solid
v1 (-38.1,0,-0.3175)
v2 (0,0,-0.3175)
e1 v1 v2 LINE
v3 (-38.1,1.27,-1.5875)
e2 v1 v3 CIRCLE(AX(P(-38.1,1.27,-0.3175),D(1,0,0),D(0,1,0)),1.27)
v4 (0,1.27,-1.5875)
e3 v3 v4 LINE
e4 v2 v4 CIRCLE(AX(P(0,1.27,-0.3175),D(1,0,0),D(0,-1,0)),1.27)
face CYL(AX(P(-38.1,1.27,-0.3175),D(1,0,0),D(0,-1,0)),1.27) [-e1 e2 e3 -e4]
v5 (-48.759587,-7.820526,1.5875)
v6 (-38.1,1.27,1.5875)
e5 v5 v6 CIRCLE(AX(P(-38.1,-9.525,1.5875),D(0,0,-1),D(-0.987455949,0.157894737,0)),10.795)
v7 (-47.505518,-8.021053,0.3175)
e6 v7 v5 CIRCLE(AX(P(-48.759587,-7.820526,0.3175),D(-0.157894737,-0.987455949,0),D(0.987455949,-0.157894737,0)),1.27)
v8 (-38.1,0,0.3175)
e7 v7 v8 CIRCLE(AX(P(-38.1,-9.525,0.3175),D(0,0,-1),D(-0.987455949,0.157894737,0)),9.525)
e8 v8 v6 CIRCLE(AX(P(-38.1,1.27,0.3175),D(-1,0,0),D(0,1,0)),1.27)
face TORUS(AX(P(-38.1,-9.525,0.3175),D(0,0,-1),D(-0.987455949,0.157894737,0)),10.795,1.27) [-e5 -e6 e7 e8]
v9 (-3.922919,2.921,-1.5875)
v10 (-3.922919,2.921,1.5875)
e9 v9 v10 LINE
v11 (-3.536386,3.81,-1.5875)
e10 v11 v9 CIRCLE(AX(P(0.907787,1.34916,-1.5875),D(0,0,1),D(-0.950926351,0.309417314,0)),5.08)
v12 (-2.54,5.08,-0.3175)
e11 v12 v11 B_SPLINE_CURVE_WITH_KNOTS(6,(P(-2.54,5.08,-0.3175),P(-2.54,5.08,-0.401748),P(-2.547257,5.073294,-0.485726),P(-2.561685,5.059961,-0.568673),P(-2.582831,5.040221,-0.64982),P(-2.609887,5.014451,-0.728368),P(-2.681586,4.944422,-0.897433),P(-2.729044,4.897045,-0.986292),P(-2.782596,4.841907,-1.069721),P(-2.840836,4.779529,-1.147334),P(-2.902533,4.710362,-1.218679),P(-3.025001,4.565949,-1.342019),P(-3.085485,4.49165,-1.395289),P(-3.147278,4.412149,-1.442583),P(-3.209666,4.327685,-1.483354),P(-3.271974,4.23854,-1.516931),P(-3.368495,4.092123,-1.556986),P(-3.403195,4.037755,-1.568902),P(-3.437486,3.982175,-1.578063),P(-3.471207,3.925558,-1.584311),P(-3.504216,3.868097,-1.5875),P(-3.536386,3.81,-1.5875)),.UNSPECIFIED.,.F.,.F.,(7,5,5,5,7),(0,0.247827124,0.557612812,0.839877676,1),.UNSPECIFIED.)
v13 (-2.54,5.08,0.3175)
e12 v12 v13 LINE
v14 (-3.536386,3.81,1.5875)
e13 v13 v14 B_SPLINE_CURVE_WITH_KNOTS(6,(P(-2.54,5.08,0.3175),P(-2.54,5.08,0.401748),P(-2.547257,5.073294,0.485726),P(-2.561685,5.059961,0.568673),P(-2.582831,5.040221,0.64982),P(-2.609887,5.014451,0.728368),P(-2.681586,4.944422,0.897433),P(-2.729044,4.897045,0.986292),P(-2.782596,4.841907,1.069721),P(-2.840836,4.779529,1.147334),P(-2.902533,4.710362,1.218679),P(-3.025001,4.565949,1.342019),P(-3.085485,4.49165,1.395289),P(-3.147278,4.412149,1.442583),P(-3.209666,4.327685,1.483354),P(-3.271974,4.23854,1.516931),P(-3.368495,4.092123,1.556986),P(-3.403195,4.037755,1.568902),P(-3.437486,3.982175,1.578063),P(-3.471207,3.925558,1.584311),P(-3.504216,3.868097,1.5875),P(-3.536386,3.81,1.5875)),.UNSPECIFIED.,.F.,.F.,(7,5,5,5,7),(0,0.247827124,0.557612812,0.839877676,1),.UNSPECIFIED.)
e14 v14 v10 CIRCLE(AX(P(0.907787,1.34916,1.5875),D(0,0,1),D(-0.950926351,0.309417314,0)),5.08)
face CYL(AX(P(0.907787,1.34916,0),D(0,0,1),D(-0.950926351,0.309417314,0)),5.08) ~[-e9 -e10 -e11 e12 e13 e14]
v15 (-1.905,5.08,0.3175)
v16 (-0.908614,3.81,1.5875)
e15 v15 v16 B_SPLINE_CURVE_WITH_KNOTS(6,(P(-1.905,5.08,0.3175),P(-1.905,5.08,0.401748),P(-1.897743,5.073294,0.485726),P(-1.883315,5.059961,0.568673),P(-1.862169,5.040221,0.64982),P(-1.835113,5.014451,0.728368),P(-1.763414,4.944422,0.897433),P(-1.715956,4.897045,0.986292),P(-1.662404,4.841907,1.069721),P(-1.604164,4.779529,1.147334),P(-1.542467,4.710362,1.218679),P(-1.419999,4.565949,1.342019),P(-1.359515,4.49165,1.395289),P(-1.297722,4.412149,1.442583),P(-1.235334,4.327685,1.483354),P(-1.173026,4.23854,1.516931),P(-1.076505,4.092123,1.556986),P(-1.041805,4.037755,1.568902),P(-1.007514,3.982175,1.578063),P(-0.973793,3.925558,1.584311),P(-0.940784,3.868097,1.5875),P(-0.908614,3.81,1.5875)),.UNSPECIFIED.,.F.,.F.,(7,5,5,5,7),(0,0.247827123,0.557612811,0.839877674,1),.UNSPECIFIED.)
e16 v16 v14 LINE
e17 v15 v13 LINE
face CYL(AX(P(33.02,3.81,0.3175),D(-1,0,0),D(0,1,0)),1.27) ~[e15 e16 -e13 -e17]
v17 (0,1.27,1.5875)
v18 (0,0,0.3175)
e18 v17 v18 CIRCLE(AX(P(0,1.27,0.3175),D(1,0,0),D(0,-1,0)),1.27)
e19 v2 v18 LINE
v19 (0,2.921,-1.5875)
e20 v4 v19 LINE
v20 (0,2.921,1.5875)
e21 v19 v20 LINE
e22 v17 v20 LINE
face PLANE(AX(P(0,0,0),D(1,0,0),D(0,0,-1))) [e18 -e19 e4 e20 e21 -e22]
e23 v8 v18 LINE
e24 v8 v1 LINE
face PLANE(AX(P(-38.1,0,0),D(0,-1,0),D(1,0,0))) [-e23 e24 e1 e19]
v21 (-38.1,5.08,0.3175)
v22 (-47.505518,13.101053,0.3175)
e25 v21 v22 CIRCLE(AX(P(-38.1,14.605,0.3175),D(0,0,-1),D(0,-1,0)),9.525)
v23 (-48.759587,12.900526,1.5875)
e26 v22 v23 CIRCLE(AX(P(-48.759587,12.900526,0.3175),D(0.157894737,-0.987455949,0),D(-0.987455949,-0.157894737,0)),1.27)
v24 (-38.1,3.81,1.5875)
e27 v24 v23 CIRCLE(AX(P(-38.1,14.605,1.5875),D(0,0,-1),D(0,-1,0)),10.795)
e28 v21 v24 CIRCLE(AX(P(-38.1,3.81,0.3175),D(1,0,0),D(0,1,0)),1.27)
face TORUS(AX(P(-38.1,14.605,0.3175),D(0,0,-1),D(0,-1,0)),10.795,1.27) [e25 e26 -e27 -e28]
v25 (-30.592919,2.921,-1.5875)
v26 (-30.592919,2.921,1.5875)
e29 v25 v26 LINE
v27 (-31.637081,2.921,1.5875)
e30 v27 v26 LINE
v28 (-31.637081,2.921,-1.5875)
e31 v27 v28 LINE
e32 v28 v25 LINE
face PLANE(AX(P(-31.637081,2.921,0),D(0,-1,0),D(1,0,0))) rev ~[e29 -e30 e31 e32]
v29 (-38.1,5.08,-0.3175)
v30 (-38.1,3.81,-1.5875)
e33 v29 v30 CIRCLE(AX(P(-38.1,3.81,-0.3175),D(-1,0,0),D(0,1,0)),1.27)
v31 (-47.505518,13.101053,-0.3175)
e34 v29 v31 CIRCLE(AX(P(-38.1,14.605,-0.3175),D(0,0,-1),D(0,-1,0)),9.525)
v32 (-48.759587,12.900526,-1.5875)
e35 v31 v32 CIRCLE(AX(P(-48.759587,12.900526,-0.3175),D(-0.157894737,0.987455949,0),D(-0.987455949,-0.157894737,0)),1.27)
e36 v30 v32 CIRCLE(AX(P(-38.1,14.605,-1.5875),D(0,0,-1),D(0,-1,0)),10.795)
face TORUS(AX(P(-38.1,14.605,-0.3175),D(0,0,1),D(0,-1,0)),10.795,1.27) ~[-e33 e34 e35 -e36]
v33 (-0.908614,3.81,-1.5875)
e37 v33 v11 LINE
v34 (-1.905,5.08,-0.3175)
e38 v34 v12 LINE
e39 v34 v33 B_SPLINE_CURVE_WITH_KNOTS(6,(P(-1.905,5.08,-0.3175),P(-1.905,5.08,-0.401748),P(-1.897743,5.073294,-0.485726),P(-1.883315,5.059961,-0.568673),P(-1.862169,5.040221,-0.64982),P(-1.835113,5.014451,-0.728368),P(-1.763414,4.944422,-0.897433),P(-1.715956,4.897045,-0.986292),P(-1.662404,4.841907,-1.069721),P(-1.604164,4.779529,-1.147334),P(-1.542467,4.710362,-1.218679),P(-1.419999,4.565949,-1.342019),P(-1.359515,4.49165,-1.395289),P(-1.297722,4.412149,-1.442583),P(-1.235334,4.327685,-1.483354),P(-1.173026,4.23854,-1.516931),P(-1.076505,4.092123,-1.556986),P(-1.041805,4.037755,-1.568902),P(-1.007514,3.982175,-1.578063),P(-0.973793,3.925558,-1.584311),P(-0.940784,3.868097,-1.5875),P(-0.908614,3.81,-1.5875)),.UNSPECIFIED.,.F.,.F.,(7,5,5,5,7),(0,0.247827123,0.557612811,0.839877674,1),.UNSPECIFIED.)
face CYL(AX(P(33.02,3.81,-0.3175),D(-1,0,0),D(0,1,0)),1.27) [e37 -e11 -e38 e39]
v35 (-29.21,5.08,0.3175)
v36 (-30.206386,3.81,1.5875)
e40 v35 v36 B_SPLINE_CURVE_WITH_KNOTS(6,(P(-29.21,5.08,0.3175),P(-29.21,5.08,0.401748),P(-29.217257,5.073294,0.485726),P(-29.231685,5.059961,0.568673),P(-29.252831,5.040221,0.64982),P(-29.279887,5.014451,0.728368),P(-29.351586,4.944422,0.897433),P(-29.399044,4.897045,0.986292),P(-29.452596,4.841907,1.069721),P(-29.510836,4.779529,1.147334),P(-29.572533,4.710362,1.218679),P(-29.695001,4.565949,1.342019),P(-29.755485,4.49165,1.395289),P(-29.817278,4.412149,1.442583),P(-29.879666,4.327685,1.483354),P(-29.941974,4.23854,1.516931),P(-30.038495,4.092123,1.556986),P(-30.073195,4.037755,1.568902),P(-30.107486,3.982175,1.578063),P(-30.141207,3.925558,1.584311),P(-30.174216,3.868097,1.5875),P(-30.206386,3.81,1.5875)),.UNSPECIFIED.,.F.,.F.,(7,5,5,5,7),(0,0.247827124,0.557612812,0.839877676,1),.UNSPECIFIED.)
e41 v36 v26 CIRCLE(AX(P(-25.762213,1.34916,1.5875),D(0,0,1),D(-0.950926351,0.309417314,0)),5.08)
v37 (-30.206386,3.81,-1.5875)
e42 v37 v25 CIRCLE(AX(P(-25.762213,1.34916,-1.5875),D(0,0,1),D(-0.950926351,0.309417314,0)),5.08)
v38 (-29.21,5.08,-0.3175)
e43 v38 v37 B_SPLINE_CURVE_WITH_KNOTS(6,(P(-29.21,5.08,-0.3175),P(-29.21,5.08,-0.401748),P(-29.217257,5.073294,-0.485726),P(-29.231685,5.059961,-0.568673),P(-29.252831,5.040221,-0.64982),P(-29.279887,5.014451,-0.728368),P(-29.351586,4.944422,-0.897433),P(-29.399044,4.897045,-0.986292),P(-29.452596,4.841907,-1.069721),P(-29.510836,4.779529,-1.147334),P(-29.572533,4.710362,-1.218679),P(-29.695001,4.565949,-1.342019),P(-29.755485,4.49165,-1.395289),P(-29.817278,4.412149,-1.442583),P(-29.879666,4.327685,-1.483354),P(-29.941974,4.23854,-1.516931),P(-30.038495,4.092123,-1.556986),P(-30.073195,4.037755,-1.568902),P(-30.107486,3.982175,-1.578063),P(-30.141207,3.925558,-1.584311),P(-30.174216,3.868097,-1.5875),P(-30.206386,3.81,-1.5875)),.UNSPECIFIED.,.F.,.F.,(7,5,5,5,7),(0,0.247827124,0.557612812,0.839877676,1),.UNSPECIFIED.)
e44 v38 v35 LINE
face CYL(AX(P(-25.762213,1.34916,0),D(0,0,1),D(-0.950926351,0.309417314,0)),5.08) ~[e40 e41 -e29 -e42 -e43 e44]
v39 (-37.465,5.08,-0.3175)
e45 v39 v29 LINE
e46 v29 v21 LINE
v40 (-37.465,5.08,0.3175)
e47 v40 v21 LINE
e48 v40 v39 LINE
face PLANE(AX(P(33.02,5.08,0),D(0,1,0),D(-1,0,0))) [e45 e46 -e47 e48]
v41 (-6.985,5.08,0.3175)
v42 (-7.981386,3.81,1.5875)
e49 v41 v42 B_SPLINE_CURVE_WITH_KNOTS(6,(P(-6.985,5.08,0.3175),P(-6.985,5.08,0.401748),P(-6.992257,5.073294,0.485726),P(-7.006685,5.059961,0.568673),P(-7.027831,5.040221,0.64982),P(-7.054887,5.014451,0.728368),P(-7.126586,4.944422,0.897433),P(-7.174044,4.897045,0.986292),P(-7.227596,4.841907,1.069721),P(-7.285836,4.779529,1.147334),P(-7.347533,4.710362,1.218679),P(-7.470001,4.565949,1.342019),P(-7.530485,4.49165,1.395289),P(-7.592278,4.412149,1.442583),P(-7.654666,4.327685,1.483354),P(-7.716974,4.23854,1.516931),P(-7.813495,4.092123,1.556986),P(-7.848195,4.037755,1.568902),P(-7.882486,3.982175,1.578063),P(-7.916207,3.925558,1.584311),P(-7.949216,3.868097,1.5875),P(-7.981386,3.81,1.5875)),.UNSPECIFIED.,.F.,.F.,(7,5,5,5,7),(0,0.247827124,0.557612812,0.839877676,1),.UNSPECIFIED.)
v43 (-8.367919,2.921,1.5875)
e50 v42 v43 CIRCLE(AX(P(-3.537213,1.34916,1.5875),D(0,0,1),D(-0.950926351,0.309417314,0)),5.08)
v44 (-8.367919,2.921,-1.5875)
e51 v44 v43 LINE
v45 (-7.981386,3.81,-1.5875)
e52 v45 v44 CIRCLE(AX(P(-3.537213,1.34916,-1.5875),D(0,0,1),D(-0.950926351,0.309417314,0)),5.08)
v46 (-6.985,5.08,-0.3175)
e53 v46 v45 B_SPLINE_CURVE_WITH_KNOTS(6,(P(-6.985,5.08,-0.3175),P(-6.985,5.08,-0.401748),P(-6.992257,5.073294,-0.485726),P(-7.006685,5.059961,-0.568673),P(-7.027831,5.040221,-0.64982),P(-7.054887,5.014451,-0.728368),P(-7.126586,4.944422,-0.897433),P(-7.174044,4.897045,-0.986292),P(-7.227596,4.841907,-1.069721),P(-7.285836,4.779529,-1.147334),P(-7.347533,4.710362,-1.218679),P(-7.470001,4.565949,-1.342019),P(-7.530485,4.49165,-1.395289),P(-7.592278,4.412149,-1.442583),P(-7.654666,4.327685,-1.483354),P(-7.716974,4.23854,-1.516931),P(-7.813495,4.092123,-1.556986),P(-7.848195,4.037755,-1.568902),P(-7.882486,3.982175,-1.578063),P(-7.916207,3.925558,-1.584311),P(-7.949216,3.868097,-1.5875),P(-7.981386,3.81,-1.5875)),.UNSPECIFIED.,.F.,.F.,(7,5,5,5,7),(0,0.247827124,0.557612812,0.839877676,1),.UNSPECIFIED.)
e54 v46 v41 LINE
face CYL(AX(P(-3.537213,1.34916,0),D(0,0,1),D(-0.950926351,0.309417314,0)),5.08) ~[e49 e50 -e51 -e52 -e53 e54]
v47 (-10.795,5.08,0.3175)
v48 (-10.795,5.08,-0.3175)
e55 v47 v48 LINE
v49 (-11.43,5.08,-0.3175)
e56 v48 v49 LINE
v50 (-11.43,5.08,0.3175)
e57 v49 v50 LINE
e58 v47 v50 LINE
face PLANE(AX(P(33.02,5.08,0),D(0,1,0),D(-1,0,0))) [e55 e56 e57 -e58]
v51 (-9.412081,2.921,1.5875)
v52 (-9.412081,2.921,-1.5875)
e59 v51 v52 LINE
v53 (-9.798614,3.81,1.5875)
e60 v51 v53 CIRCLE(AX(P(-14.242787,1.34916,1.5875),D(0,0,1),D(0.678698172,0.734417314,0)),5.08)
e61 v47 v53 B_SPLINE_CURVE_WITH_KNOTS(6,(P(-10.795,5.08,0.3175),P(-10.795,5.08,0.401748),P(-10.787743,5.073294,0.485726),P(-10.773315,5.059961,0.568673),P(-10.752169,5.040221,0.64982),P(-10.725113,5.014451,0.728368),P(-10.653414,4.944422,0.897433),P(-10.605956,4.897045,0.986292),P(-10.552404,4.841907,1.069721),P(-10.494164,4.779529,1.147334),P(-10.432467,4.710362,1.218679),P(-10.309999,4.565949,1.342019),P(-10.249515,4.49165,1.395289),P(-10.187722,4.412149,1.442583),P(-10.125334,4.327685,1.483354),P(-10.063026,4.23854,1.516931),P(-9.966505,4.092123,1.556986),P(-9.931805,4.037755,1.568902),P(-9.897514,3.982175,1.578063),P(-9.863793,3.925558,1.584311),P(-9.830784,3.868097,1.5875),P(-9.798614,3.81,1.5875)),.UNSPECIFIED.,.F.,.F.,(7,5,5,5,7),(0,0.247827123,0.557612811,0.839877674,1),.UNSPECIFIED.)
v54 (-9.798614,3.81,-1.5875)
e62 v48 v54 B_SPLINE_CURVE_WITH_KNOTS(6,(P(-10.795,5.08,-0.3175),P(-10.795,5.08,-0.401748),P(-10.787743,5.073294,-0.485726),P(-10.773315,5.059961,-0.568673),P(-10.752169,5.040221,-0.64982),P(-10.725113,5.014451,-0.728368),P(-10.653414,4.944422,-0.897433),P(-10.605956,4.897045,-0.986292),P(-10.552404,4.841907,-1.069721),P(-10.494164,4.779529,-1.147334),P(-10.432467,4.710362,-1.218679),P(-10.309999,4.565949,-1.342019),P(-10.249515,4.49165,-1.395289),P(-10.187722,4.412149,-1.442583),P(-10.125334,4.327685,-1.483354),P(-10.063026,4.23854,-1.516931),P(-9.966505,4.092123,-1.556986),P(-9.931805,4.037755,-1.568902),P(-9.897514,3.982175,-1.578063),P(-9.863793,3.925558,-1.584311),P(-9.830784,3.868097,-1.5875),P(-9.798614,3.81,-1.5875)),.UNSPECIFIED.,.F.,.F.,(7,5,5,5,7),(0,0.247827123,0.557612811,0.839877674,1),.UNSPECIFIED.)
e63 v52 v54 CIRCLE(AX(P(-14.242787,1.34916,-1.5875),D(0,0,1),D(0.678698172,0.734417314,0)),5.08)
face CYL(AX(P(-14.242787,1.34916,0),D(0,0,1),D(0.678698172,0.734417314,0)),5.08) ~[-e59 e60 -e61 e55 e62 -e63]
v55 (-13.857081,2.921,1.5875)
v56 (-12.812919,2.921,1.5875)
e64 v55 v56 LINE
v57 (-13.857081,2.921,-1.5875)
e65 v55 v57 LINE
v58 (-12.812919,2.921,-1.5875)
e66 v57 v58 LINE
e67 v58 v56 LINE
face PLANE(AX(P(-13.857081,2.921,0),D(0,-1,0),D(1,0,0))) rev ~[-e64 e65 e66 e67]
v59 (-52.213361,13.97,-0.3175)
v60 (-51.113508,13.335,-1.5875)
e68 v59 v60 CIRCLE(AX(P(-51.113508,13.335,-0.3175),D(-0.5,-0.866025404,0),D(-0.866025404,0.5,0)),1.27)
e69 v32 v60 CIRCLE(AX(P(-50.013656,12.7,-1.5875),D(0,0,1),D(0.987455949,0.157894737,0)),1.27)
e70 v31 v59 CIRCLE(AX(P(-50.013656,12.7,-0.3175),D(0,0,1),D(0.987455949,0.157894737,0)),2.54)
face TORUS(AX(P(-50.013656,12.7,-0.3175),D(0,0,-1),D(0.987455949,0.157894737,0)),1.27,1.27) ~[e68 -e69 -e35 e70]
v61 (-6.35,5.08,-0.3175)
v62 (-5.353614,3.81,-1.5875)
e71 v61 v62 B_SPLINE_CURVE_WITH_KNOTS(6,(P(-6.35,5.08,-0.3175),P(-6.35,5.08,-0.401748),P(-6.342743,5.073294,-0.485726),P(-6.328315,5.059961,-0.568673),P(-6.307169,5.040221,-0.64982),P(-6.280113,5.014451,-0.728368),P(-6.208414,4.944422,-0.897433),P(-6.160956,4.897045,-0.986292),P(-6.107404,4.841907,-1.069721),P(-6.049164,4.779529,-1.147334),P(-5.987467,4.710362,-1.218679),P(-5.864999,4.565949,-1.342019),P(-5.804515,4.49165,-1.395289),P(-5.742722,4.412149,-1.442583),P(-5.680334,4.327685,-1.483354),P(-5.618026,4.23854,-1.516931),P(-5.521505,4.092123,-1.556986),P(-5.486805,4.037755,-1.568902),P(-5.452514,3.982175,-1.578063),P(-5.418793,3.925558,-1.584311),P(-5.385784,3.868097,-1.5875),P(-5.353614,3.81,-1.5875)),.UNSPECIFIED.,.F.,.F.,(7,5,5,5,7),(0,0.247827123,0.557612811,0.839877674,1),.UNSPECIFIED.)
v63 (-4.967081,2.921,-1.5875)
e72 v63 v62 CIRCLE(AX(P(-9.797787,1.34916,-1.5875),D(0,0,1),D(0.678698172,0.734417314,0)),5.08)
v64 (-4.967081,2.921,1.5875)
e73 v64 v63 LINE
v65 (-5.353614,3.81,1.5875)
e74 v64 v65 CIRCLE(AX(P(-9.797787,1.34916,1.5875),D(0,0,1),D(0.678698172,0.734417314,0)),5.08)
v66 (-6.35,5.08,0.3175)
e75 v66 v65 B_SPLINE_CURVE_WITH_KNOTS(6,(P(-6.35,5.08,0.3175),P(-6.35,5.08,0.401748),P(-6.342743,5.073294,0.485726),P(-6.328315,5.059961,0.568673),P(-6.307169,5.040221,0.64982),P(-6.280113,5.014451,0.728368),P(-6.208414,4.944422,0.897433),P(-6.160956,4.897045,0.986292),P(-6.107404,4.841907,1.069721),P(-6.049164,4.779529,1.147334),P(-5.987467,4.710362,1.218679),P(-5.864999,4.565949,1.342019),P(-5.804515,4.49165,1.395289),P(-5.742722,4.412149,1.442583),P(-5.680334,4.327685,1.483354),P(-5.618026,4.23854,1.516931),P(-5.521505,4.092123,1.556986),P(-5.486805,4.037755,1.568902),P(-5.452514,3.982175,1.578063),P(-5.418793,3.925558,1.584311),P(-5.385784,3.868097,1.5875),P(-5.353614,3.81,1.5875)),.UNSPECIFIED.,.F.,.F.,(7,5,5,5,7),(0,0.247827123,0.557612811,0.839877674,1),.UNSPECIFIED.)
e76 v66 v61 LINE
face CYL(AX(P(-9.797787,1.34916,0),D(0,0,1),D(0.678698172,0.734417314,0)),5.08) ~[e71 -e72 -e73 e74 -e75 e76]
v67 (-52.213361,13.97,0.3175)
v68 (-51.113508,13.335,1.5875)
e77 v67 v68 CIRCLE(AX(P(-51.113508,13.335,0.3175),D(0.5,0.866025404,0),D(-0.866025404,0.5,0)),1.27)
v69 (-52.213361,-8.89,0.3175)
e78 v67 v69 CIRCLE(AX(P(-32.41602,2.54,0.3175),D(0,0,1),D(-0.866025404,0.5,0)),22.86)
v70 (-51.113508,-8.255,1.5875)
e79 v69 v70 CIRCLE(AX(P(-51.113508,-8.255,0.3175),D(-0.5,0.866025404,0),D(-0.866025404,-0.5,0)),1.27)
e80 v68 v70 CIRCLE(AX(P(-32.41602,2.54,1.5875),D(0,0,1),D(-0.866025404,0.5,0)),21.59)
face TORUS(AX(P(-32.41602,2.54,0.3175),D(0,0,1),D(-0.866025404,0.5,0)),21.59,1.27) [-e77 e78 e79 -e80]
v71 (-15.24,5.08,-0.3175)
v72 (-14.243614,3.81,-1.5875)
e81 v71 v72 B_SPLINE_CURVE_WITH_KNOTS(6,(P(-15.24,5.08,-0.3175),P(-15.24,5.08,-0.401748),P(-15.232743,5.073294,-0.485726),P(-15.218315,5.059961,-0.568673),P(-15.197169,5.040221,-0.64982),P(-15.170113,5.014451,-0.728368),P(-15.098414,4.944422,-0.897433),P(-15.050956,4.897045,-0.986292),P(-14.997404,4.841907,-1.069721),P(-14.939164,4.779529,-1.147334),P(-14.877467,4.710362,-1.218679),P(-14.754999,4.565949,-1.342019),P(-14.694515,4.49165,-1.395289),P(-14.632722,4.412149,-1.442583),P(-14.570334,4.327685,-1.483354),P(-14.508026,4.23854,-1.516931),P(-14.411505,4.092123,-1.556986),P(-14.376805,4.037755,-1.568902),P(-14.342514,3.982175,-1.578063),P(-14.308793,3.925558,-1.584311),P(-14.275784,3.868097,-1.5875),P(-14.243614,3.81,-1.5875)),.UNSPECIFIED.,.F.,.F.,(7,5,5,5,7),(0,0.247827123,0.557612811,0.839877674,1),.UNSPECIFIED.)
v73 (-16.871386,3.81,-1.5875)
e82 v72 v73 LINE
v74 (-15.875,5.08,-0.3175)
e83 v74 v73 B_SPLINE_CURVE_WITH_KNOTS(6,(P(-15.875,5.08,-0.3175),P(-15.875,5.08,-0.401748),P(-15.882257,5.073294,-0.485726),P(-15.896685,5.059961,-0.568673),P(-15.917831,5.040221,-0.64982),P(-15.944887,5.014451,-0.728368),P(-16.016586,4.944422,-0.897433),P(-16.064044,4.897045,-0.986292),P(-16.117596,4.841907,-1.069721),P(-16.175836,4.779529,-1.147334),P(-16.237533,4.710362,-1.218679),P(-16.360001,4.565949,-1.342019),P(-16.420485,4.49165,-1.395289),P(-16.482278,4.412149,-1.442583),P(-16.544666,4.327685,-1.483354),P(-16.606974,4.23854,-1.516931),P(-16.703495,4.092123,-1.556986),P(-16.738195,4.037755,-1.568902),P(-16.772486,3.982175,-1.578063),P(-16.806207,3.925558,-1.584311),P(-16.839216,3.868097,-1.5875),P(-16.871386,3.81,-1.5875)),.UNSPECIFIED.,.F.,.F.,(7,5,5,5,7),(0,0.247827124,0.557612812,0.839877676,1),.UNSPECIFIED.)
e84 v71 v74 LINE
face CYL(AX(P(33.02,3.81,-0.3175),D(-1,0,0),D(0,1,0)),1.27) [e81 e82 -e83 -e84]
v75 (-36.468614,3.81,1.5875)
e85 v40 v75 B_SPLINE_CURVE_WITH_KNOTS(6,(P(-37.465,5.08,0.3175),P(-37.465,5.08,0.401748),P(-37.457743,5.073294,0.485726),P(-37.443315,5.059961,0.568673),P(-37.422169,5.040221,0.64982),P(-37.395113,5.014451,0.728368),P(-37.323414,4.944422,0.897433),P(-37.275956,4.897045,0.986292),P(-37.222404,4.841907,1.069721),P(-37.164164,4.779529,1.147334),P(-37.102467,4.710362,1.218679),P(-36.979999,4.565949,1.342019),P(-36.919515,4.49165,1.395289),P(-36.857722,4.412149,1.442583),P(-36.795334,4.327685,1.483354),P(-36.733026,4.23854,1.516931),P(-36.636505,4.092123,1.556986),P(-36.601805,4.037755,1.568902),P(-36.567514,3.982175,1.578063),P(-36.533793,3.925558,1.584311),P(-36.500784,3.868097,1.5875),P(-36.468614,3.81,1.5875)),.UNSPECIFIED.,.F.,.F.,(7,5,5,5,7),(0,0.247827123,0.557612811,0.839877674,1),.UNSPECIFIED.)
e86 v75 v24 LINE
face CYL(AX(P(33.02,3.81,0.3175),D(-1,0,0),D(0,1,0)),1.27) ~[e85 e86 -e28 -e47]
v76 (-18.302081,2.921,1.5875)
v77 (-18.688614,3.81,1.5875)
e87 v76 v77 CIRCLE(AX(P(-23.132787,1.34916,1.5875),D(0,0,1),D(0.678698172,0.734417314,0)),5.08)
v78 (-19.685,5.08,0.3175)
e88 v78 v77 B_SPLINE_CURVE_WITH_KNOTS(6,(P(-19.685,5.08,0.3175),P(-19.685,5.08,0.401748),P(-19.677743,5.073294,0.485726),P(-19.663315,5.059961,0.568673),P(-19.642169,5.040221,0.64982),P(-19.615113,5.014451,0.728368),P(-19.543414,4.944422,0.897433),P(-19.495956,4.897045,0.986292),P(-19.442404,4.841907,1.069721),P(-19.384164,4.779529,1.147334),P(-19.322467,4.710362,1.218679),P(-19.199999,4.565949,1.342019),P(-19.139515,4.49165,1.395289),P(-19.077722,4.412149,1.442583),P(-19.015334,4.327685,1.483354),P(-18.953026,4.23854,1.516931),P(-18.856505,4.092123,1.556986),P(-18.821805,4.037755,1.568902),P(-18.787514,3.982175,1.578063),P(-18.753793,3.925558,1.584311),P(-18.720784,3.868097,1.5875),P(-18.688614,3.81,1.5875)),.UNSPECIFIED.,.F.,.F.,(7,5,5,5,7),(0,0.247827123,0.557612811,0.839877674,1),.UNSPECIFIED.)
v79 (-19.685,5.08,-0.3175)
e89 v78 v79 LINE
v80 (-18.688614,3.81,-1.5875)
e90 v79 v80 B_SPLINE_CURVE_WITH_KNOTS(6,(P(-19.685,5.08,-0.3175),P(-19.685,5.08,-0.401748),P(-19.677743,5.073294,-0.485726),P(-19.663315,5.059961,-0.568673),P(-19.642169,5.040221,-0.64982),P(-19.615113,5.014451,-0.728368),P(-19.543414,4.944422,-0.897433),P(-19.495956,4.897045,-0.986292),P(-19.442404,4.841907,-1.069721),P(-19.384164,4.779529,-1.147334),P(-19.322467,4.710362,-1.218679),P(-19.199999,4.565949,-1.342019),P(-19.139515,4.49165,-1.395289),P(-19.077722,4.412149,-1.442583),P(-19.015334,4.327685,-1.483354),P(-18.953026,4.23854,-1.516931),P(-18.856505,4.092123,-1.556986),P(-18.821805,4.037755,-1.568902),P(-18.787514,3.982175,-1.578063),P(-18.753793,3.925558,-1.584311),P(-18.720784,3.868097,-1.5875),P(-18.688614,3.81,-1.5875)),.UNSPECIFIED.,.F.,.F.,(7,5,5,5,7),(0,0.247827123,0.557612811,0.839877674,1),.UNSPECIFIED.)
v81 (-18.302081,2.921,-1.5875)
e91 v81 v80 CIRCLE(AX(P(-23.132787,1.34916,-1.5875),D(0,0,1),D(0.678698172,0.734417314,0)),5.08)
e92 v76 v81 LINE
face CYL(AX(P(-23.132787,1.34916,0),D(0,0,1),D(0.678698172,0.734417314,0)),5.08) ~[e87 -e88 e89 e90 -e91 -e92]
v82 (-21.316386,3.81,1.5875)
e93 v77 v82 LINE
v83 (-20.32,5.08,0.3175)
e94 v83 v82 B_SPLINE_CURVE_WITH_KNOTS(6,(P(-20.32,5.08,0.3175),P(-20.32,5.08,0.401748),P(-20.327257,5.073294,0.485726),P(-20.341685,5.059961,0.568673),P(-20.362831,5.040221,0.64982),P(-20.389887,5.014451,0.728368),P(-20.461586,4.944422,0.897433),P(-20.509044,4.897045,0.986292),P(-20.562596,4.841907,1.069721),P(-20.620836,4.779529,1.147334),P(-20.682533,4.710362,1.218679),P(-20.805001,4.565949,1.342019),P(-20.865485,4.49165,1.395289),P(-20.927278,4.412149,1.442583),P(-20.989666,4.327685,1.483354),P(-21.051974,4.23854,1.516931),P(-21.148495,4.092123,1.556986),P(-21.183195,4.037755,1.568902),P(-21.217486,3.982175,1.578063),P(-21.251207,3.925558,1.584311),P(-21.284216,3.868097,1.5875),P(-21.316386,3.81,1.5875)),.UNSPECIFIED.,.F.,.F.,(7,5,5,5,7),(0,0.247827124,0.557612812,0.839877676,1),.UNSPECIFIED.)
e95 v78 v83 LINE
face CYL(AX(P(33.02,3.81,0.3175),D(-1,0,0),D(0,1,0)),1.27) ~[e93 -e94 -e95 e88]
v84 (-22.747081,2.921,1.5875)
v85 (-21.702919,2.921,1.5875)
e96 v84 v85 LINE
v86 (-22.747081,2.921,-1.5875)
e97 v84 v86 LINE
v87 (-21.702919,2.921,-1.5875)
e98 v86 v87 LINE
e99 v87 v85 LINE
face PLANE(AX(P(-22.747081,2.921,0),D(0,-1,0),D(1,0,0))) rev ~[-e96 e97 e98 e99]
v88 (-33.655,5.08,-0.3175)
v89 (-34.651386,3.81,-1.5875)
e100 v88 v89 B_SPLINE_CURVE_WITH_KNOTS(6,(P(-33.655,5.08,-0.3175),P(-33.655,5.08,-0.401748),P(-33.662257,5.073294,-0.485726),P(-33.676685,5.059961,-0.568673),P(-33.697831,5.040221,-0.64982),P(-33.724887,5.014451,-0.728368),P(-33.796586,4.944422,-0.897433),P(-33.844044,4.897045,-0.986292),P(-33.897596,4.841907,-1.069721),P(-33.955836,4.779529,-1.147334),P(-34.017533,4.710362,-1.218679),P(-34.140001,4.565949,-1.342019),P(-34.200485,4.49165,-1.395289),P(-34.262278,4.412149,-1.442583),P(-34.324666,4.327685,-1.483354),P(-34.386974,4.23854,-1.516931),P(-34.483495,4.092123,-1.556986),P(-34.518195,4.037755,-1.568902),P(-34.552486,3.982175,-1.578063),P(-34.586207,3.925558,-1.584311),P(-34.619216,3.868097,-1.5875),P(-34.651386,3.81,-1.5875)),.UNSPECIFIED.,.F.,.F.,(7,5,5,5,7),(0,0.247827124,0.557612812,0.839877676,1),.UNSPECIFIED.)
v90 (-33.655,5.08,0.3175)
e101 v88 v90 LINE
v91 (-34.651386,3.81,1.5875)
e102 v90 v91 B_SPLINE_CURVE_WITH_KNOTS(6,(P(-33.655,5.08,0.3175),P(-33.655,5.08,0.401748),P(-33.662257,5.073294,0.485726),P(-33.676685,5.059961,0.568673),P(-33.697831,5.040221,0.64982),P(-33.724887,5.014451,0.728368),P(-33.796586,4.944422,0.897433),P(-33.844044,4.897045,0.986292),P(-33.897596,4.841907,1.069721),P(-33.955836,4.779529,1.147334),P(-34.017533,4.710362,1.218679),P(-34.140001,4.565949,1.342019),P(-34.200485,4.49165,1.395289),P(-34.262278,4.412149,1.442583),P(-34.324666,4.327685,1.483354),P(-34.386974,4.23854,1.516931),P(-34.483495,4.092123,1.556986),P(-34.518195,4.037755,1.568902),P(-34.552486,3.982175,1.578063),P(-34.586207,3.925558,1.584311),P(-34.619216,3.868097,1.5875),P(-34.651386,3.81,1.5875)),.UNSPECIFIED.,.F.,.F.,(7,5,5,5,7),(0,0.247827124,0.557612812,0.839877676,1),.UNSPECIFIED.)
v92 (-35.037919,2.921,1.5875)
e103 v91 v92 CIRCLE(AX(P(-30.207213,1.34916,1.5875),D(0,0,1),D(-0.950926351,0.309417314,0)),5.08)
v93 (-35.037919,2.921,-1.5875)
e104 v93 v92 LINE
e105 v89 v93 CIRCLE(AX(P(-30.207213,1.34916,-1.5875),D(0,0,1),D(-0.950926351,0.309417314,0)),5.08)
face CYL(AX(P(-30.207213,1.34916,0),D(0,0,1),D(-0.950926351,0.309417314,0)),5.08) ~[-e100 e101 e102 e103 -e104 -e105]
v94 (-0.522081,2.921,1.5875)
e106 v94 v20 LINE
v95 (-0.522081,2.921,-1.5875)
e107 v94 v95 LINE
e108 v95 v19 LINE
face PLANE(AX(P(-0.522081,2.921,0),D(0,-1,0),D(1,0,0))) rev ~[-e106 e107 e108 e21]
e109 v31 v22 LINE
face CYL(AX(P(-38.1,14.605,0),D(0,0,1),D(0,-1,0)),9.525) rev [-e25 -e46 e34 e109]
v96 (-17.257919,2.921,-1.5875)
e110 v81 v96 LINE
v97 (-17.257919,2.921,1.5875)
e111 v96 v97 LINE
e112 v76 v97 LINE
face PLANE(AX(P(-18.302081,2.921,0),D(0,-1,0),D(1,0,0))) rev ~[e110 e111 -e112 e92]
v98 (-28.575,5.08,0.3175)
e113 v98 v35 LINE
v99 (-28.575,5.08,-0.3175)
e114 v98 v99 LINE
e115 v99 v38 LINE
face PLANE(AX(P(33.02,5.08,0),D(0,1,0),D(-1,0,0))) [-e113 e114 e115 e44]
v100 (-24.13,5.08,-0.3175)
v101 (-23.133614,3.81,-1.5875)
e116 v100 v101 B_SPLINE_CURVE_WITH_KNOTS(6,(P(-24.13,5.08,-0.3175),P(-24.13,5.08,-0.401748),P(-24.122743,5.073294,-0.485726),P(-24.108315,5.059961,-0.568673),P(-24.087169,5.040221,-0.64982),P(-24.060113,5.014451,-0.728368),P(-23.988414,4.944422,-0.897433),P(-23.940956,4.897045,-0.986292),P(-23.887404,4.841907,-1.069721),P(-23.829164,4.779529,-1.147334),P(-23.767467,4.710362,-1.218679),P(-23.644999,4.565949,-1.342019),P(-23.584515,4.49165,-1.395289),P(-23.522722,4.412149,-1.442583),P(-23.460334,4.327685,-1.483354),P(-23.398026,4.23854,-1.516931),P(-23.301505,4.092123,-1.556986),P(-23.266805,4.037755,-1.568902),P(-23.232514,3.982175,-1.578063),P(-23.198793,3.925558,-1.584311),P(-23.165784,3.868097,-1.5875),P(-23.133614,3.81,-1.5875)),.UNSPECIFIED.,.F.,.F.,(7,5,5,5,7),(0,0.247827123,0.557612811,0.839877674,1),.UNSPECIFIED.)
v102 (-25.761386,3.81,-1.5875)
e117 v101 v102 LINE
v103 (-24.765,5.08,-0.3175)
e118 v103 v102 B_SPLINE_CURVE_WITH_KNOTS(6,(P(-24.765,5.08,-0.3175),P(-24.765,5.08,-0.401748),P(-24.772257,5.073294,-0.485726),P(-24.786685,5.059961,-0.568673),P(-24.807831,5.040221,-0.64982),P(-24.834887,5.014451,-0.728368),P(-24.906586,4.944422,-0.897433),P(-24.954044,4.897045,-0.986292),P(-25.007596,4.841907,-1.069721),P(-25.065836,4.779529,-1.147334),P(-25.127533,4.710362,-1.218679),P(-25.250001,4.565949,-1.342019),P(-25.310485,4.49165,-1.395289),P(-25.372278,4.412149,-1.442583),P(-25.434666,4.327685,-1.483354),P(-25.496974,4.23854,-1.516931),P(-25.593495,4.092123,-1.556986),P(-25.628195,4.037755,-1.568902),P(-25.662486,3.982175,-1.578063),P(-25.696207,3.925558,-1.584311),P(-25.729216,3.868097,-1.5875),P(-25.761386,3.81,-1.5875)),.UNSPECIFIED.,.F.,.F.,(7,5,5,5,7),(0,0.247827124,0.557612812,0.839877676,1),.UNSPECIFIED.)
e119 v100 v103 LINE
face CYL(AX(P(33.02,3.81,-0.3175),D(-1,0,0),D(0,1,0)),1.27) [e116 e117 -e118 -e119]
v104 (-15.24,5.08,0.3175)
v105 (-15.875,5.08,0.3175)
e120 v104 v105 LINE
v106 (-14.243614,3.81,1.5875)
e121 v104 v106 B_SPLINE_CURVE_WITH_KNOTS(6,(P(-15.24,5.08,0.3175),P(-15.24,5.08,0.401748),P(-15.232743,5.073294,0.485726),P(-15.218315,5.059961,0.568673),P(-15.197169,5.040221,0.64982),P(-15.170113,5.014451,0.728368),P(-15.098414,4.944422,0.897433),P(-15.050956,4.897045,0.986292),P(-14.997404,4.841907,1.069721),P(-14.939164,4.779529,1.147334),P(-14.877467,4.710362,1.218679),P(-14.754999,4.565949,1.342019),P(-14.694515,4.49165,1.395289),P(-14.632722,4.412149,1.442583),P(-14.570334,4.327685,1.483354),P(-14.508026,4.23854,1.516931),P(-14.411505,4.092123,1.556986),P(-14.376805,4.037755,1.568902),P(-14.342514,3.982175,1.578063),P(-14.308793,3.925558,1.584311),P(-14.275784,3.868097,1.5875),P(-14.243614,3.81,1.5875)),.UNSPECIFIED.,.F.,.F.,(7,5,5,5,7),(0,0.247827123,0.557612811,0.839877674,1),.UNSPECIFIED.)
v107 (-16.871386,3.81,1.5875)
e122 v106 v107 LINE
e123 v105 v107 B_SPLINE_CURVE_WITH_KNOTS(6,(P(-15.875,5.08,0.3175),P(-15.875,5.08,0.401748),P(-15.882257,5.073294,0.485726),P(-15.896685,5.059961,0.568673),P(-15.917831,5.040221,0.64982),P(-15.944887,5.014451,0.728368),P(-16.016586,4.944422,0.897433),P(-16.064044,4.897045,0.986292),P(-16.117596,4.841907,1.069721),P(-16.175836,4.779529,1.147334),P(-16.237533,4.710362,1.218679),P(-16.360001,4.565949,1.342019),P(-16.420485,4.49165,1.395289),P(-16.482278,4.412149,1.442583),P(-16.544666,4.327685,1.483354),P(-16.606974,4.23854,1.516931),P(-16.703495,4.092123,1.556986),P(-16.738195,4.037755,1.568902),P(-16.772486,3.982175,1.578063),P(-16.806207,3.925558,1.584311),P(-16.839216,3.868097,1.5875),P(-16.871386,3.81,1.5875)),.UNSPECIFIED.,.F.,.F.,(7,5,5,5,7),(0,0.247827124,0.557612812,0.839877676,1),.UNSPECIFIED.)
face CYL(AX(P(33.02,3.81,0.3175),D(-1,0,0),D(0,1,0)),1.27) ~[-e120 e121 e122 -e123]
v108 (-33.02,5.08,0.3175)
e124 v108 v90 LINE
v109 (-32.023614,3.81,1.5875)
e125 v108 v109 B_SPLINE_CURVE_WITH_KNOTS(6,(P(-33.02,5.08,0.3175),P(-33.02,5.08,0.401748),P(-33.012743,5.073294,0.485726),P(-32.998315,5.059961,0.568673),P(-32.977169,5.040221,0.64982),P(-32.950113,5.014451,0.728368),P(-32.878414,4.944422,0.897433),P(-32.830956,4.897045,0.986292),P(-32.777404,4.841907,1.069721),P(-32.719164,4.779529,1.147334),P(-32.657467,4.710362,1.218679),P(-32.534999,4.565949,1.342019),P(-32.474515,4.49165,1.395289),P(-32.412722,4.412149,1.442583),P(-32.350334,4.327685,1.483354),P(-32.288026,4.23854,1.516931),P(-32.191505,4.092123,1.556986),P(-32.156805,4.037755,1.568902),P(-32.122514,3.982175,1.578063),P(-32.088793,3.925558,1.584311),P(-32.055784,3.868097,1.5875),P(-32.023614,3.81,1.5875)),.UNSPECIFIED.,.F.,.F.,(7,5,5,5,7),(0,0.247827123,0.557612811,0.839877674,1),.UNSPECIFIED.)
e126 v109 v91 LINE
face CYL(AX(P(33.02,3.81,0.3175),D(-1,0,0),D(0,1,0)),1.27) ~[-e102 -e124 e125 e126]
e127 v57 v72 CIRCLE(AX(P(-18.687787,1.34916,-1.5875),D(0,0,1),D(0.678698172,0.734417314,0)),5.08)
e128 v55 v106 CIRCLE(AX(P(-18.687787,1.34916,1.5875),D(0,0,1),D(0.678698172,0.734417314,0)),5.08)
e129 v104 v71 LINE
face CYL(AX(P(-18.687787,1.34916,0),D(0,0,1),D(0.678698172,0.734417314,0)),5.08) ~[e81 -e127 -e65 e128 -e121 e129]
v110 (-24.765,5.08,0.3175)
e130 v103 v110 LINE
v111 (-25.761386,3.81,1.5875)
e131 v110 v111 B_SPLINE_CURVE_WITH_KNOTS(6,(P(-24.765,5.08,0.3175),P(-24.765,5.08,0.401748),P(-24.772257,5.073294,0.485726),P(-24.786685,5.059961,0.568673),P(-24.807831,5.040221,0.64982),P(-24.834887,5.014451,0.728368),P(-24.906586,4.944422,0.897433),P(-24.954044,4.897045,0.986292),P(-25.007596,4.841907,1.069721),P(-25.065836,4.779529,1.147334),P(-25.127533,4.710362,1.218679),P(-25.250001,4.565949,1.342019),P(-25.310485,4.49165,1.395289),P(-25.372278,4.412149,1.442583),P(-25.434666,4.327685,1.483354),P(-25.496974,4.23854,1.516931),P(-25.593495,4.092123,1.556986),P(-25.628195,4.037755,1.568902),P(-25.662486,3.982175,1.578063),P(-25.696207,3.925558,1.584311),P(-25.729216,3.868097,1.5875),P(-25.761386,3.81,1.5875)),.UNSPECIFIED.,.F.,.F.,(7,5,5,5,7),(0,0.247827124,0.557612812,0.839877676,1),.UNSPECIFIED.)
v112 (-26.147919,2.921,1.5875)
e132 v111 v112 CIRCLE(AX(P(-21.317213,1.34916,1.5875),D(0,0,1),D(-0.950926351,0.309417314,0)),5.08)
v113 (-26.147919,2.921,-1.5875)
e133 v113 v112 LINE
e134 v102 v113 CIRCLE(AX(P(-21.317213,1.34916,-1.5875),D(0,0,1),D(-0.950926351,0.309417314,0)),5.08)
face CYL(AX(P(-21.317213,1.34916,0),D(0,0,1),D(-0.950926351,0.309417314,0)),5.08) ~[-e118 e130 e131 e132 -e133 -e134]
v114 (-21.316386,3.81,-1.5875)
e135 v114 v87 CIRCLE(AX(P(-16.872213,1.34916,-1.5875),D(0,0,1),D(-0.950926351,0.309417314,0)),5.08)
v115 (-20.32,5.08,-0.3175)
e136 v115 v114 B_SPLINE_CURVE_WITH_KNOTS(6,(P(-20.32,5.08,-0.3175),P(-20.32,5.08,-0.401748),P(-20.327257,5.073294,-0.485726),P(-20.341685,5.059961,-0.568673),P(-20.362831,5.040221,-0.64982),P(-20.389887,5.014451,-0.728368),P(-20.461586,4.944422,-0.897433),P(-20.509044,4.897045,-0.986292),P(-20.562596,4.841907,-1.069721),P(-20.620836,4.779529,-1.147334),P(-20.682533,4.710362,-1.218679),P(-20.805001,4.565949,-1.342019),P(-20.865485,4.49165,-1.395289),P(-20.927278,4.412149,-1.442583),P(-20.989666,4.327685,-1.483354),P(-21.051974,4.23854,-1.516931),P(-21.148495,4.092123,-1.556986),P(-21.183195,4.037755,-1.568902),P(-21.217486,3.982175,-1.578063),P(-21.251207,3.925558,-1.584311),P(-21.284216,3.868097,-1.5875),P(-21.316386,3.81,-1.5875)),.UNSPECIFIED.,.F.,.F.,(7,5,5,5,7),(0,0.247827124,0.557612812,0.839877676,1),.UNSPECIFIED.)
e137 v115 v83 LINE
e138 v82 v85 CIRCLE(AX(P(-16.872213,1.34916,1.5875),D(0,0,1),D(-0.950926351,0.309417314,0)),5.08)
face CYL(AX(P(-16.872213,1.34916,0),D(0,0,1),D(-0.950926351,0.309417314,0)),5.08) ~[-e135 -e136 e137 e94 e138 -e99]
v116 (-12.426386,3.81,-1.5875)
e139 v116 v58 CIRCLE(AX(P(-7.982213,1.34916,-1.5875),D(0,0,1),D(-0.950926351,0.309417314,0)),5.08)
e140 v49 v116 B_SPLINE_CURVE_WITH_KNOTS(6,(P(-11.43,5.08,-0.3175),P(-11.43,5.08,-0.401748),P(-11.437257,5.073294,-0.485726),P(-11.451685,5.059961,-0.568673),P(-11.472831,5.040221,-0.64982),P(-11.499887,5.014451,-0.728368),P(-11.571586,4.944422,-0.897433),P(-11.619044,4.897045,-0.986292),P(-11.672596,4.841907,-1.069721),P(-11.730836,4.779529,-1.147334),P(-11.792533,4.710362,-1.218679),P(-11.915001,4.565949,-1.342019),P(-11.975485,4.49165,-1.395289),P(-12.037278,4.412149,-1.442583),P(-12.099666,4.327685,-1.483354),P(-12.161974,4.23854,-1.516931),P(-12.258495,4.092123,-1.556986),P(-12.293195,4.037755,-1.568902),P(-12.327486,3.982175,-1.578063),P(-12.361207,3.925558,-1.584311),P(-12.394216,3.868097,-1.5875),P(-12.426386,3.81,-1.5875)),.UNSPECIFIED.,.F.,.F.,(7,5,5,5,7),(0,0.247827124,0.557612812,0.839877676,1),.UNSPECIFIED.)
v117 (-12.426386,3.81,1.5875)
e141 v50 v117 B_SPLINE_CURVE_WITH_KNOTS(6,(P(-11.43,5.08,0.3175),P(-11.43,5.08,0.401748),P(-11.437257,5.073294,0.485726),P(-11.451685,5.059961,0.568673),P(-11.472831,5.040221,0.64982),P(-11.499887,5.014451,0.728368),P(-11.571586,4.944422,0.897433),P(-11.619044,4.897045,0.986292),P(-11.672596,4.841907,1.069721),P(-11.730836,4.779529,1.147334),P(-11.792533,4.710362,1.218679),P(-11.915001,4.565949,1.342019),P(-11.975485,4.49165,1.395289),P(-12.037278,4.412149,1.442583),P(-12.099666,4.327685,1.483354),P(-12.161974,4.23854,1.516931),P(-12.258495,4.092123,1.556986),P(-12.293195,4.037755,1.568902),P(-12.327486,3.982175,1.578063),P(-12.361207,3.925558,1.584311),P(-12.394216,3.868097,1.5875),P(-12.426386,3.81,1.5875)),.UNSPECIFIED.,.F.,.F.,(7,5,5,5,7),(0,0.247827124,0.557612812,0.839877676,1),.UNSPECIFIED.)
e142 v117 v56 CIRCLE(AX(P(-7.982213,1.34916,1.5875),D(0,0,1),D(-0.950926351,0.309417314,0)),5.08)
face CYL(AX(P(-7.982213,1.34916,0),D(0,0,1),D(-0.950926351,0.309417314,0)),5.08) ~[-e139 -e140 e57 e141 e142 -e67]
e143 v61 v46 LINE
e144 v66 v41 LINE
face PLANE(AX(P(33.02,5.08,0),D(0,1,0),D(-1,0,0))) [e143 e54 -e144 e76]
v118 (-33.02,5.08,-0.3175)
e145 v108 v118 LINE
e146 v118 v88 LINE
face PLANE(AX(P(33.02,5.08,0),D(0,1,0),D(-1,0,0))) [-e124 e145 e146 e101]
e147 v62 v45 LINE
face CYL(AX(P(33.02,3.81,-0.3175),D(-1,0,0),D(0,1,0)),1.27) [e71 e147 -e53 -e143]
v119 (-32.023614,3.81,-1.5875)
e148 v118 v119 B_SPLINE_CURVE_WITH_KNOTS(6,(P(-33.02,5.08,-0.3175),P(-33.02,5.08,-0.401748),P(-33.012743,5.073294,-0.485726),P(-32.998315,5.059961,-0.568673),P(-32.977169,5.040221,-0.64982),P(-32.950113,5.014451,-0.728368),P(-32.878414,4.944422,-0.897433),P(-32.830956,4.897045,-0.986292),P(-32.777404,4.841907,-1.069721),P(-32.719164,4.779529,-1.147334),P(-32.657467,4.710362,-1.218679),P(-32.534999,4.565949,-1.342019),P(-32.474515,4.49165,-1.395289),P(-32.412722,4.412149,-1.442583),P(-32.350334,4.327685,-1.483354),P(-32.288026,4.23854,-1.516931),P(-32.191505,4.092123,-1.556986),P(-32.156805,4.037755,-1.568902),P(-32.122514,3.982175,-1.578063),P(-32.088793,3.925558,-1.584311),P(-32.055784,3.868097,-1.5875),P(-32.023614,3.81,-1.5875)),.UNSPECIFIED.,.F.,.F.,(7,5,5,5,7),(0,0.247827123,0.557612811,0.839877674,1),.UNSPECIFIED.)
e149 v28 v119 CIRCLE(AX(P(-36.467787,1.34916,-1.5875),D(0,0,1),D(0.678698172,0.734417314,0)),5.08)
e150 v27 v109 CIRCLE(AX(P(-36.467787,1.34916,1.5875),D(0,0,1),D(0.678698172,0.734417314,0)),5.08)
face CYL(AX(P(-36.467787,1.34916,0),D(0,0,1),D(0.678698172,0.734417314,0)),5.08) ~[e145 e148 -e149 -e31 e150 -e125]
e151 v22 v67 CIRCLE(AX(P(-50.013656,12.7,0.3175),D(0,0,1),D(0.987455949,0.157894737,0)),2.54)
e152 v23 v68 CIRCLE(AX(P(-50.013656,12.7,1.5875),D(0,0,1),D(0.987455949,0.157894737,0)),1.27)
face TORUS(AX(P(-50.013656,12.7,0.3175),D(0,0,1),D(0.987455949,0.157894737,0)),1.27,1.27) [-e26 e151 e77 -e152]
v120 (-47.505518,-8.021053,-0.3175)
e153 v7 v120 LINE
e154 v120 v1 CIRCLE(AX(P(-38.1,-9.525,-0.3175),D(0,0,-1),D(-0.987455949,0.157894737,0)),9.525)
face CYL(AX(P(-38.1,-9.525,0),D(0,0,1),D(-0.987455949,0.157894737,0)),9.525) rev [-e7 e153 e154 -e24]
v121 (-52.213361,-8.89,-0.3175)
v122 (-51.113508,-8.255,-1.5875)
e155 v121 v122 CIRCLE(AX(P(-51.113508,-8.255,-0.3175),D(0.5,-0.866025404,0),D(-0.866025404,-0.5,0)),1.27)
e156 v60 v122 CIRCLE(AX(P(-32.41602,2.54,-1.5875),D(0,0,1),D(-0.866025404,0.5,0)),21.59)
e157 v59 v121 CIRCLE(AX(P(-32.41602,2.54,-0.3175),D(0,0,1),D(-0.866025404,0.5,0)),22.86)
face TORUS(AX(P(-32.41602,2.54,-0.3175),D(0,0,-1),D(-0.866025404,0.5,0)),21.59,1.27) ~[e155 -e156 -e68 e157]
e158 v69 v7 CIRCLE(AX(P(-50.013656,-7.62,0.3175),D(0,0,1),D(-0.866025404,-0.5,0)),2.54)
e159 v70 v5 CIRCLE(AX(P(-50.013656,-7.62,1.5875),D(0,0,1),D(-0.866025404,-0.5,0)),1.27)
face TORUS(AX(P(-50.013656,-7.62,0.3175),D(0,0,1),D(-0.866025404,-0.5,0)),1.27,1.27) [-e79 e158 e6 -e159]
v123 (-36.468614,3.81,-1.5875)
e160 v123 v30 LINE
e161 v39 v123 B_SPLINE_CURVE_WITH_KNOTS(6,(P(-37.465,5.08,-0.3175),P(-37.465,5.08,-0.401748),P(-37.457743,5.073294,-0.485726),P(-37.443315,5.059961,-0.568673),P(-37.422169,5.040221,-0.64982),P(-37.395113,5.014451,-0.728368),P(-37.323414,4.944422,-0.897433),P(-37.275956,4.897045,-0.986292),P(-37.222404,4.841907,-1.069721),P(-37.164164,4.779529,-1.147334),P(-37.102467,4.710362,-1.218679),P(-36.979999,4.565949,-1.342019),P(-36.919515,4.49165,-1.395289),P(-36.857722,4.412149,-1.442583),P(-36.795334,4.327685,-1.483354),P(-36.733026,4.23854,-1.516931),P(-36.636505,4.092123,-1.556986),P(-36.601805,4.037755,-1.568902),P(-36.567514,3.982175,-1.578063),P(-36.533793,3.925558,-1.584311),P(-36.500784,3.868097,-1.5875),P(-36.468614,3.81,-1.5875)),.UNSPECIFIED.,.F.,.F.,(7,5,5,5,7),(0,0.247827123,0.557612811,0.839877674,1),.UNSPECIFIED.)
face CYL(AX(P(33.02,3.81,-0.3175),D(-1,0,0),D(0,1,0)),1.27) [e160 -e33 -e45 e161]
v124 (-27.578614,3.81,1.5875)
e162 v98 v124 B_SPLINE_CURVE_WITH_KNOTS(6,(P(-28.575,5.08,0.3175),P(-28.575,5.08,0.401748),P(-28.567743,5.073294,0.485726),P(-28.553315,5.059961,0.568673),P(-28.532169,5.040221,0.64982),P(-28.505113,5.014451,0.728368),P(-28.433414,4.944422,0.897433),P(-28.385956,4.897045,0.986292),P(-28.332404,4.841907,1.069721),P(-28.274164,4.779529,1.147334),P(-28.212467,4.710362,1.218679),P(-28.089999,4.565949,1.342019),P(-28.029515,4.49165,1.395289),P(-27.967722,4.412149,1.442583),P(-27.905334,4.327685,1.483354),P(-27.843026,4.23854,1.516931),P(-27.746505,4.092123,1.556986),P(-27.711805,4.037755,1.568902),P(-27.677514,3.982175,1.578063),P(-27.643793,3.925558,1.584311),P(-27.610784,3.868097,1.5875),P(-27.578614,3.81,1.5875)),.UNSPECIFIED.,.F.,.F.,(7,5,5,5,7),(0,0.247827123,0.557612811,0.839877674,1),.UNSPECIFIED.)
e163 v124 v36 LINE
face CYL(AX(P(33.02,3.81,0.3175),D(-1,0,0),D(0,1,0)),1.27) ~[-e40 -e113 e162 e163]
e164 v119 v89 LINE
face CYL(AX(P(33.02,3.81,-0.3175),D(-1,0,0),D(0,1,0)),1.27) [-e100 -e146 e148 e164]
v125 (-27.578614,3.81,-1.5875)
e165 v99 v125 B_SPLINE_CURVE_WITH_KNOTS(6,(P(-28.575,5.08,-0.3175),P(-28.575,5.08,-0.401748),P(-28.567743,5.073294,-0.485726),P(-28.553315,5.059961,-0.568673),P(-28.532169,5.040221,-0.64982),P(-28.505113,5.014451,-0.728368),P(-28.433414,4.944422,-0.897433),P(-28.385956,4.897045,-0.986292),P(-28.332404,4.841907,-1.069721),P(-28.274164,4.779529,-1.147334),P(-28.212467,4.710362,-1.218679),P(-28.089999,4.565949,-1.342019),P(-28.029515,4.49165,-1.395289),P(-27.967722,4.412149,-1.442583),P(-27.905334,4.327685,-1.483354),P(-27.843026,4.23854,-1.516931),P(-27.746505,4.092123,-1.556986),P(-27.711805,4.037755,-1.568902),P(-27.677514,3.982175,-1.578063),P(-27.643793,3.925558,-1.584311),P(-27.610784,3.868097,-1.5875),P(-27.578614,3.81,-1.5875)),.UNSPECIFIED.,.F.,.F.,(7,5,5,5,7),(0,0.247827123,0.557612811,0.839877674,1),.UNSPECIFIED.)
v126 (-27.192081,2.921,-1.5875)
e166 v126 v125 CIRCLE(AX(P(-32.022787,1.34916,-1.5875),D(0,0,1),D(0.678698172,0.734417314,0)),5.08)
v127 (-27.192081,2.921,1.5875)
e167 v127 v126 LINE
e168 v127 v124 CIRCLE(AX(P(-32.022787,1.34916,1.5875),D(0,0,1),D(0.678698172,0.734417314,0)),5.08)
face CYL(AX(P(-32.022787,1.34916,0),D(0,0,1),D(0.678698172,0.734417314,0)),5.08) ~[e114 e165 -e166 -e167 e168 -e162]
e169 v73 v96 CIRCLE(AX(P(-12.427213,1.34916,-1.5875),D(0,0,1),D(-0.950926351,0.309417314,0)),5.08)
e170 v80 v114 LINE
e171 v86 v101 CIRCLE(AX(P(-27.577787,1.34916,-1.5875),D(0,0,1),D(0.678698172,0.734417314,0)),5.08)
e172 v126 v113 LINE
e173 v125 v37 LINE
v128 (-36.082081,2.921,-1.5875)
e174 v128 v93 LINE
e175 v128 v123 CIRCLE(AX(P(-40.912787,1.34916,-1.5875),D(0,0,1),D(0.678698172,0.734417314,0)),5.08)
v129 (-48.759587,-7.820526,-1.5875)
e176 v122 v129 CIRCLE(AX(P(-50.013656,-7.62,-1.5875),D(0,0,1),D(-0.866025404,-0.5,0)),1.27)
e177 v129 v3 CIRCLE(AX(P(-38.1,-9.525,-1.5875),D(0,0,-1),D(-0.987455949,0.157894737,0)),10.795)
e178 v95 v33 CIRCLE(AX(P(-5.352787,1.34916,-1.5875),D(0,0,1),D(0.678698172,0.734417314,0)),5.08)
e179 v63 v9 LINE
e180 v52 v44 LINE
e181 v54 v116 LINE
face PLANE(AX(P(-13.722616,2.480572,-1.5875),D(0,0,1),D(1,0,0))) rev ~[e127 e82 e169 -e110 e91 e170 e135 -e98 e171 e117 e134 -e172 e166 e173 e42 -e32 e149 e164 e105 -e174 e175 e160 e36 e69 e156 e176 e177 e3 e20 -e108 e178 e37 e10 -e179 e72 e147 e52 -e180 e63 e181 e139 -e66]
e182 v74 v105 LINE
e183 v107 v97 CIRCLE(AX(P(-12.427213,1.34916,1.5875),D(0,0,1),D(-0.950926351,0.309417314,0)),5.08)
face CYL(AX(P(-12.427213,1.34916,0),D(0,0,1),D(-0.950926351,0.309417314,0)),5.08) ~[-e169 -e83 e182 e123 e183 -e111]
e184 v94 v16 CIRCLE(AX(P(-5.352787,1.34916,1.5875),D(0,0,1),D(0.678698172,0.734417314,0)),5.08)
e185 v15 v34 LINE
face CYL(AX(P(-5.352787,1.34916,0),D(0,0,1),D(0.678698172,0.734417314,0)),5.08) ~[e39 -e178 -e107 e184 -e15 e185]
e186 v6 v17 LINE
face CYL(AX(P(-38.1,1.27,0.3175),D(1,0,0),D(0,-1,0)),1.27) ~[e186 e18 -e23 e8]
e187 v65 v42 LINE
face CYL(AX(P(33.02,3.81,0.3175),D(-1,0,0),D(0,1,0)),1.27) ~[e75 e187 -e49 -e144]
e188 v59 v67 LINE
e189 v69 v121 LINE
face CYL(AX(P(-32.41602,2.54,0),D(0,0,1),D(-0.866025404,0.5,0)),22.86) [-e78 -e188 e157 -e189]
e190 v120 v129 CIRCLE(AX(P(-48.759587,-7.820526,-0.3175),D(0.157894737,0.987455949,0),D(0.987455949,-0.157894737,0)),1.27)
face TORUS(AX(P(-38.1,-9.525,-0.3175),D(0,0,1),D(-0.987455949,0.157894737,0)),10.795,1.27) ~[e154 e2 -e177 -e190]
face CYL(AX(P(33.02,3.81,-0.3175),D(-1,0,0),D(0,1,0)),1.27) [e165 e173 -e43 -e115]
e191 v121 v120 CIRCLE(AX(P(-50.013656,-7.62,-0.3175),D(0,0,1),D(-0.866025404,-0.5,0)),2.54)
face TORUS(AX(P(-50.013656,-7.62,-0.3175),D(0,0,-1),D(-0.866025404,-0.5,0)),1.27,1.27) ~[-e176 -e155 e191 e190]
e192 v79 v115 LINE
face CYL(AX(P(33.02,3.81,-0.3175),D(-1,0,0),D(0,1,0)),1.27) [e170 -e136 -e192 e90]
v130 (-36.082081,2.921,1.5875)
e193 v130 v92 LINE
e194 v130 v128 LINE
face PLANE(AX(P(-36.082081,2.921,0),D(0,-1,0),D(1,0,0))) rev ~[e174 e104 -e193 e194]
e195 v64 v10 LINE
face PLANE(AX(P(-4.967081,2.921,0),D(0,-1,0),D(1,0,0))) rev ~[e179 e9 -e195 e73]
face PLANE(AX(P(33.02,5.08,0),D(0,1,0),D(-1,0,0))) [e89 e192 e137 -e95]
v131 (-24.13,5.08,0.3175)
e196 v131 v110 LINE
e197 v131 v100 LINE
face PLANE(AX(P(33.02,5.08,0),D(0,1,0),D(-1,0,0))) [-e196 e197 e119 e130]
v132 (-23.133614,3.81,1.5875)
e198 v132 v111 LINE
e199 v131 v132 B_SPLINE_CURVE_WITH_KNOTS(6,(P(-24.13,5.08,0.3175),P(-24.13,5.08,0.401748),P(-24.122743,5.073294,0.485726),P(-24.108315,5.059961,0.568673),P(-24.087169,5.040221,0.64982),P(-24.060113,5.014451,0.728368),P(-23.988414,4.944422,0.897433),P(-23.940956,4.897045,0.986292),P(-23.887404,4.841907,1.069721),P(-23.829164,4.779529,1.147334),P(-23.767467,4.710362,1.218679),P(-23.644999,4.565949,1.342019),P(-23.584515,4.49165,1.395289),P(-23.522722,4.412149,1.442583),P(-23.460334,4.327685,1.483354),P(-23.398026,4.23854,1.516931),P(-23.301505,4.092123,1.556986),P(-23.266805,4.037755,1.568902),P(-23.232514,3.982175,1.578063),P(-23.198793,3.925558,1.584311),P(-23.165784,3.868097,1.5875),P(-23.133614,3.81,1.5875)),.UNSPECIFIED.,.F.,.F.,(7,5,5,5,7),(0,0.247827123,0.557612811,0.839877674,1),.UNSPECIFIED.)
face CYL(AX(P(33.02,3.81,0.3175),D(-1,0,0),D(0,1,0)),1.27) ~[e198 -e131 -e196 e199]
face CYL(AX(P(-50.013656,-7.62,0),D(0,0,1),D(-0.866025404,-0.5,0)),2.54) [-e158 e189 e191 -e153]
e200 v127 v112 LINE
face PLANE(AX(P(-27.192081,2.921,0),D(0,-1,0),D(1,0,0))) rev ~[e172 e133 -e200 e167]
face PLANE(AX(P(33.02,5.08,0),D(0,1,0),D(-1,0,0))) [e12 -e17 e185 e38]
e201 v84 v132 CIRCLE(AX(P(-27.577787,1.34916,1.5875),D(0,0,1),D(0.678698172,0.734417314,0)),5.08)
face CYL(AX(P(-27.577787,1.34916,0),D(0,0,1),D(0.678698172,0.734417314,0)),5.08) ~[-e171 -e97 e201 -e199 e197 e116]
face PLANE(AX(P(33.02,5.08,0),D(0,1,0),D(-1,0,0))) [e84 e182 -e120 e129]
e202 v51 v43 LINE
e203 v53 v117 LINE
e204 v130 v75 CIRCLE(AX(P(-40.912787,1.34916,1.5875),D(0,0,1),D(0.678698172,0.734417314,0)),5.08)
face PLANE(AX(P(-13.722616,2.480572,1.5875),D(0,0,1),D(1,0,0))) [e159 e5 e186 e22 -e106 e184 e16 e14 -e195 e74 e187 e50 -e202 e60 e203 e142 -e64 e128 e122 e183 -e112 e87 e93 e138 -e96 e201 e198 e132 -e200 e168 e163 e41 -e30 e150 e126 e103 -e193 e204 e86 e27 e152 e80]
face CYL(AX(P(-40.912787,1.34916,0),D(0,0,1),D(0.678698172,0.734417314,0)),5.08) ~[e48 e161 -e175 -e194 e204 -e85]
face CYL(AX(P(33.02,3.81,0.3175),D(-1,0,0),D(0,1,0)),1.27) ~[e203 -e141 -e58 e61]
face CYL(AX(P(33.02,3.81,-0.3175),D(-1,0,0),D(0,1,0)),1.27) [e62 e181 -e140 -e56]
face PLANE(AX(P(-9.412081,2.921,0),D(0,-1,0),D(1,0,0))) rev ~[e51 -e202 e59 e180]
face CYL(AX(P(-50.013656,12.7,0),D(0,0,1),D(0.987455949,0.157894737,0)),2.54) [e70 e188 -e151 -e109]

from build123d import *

# Parameters (mm, degrees)
BOSS_EXTRUDE1_DEPTH = 1.5875
FILLET1_R           = 1.27
CUT_EXTRUDE1_DEPTH  = 58.360405638
LPATTERN1_COUNT     = 16
LPATTERN1_PITCH     = 4.445
SKETCH4_R           = 7.686089714
CUT_EXTRUDE2_DEPTH  = 58.360405641


with BuildPart() as part:
    # Sketch1 → Boss-Extrude1 (new, symmetric)
    with BuildSketch(Plane.XY):
        with BuildLine():
            Line((-38.1, 0), (38.1, 0))
            Line((38.1, 0), (33.02, 5.08))
            Line((33.02, 5.08), (-38.1, 5.08))
            ThreePointArc((-38.1, 5.08), (-44.280636145, 7.357561705), (-47.505517918, 13.101052632))
            ThreePointArc((-47.505517918, 13.101052632), (-49.552624359, 15.197809), (-52.213360556, 13.97))
            ThreePointArc((-52.213360556, 13.97), (-55.276019825, 2.54), (-52.213360556, -8.89))
            ThreePointArc((-52.213360556, -8.89), (-49.552624359, -10.117809), (-47.505517918, -8.021052632))
            ThreePointArc((-47.505517918, -8.021052632), (-44.280636145, -2.277561705), (-38.1, 0))
        make_face()
    extrude(amount=BOSS_EXTRUDE1_DEPTH, both=True)

    # Fillet1
    fillet1_edges = [part.edges().sort_by_distance(p)[0] for p in [
        (-2.54, 5.08, -1.5875),
        (0, 0, -1.5875),
        (-44.280636145, -2.277561705, -1.5875),
        (-2.54, 5.08, 1.5875),
        (-44.280636145, 7.357561705, 1.5875),
        (-49.552624359, 15.197809, 1.5875),
        (-55.276019825, 2.54, 1.5875),
        (-49.552624359, -10.117809, 1.5875),
        (-44.280636145, -2.277561705, 1.5875),
        (-49.552624359, -10.117809, -1.5875),
        (0, 0, 1.5875),
        (-55.276019825, 2.54, -1.5875),
        (-49.552624359, 15.197809, -1.5875),
        (-44.280636145, 7.357561705, -1.5875),
    ]]
    fillet(fillet1_edges, radius=FILLET1_R)

    # Sketch3 → Cut-Extrude1 (cut, symmetric)
    with BuildSketch(Plane.XY):
        with BuildLine():
            Line((30.592919151, 2.921), (31.637080849, 2.921))
            ThreePointArc((31.637080849, 2.921), (32.190091062, 4.089181925), (33.02, 5.08))
            Line((33.02, 5.08), (29.21, 5.08))
            ThreePointArc((29.21, 5.08), (30.039908938, 4.089181925), (30.592919151, 2.921))
        make_face()
    cut_extrude1 = extrude(amount=CUT_EXTRUDE1_DEPTH, both=True, mode=Mode.SUBTRACT)

    # LPattern1: Cut-Extrude1 ×16
    with Locations(*[(-i * LPATTERN1_PITCH, 0, 0) for i in range(1, LPATTERN1_COUNT)]):
        add(cut_extrude1, mode=Mode.SUBTRACT)

    # Sketch4 → Cut-Extrude2 (cut, through all)
    with BuildSketch(Plane(origin=(0, 0, 0), x_dir=(0, 0, -1), z_dir=(1, 0, 0))):
        Circle(SKETCH4_R)
    extrude(amount=CUT_EXTRUDE2_DEPTH, mode=Mode.SUBTRACT)


solid = part.part
